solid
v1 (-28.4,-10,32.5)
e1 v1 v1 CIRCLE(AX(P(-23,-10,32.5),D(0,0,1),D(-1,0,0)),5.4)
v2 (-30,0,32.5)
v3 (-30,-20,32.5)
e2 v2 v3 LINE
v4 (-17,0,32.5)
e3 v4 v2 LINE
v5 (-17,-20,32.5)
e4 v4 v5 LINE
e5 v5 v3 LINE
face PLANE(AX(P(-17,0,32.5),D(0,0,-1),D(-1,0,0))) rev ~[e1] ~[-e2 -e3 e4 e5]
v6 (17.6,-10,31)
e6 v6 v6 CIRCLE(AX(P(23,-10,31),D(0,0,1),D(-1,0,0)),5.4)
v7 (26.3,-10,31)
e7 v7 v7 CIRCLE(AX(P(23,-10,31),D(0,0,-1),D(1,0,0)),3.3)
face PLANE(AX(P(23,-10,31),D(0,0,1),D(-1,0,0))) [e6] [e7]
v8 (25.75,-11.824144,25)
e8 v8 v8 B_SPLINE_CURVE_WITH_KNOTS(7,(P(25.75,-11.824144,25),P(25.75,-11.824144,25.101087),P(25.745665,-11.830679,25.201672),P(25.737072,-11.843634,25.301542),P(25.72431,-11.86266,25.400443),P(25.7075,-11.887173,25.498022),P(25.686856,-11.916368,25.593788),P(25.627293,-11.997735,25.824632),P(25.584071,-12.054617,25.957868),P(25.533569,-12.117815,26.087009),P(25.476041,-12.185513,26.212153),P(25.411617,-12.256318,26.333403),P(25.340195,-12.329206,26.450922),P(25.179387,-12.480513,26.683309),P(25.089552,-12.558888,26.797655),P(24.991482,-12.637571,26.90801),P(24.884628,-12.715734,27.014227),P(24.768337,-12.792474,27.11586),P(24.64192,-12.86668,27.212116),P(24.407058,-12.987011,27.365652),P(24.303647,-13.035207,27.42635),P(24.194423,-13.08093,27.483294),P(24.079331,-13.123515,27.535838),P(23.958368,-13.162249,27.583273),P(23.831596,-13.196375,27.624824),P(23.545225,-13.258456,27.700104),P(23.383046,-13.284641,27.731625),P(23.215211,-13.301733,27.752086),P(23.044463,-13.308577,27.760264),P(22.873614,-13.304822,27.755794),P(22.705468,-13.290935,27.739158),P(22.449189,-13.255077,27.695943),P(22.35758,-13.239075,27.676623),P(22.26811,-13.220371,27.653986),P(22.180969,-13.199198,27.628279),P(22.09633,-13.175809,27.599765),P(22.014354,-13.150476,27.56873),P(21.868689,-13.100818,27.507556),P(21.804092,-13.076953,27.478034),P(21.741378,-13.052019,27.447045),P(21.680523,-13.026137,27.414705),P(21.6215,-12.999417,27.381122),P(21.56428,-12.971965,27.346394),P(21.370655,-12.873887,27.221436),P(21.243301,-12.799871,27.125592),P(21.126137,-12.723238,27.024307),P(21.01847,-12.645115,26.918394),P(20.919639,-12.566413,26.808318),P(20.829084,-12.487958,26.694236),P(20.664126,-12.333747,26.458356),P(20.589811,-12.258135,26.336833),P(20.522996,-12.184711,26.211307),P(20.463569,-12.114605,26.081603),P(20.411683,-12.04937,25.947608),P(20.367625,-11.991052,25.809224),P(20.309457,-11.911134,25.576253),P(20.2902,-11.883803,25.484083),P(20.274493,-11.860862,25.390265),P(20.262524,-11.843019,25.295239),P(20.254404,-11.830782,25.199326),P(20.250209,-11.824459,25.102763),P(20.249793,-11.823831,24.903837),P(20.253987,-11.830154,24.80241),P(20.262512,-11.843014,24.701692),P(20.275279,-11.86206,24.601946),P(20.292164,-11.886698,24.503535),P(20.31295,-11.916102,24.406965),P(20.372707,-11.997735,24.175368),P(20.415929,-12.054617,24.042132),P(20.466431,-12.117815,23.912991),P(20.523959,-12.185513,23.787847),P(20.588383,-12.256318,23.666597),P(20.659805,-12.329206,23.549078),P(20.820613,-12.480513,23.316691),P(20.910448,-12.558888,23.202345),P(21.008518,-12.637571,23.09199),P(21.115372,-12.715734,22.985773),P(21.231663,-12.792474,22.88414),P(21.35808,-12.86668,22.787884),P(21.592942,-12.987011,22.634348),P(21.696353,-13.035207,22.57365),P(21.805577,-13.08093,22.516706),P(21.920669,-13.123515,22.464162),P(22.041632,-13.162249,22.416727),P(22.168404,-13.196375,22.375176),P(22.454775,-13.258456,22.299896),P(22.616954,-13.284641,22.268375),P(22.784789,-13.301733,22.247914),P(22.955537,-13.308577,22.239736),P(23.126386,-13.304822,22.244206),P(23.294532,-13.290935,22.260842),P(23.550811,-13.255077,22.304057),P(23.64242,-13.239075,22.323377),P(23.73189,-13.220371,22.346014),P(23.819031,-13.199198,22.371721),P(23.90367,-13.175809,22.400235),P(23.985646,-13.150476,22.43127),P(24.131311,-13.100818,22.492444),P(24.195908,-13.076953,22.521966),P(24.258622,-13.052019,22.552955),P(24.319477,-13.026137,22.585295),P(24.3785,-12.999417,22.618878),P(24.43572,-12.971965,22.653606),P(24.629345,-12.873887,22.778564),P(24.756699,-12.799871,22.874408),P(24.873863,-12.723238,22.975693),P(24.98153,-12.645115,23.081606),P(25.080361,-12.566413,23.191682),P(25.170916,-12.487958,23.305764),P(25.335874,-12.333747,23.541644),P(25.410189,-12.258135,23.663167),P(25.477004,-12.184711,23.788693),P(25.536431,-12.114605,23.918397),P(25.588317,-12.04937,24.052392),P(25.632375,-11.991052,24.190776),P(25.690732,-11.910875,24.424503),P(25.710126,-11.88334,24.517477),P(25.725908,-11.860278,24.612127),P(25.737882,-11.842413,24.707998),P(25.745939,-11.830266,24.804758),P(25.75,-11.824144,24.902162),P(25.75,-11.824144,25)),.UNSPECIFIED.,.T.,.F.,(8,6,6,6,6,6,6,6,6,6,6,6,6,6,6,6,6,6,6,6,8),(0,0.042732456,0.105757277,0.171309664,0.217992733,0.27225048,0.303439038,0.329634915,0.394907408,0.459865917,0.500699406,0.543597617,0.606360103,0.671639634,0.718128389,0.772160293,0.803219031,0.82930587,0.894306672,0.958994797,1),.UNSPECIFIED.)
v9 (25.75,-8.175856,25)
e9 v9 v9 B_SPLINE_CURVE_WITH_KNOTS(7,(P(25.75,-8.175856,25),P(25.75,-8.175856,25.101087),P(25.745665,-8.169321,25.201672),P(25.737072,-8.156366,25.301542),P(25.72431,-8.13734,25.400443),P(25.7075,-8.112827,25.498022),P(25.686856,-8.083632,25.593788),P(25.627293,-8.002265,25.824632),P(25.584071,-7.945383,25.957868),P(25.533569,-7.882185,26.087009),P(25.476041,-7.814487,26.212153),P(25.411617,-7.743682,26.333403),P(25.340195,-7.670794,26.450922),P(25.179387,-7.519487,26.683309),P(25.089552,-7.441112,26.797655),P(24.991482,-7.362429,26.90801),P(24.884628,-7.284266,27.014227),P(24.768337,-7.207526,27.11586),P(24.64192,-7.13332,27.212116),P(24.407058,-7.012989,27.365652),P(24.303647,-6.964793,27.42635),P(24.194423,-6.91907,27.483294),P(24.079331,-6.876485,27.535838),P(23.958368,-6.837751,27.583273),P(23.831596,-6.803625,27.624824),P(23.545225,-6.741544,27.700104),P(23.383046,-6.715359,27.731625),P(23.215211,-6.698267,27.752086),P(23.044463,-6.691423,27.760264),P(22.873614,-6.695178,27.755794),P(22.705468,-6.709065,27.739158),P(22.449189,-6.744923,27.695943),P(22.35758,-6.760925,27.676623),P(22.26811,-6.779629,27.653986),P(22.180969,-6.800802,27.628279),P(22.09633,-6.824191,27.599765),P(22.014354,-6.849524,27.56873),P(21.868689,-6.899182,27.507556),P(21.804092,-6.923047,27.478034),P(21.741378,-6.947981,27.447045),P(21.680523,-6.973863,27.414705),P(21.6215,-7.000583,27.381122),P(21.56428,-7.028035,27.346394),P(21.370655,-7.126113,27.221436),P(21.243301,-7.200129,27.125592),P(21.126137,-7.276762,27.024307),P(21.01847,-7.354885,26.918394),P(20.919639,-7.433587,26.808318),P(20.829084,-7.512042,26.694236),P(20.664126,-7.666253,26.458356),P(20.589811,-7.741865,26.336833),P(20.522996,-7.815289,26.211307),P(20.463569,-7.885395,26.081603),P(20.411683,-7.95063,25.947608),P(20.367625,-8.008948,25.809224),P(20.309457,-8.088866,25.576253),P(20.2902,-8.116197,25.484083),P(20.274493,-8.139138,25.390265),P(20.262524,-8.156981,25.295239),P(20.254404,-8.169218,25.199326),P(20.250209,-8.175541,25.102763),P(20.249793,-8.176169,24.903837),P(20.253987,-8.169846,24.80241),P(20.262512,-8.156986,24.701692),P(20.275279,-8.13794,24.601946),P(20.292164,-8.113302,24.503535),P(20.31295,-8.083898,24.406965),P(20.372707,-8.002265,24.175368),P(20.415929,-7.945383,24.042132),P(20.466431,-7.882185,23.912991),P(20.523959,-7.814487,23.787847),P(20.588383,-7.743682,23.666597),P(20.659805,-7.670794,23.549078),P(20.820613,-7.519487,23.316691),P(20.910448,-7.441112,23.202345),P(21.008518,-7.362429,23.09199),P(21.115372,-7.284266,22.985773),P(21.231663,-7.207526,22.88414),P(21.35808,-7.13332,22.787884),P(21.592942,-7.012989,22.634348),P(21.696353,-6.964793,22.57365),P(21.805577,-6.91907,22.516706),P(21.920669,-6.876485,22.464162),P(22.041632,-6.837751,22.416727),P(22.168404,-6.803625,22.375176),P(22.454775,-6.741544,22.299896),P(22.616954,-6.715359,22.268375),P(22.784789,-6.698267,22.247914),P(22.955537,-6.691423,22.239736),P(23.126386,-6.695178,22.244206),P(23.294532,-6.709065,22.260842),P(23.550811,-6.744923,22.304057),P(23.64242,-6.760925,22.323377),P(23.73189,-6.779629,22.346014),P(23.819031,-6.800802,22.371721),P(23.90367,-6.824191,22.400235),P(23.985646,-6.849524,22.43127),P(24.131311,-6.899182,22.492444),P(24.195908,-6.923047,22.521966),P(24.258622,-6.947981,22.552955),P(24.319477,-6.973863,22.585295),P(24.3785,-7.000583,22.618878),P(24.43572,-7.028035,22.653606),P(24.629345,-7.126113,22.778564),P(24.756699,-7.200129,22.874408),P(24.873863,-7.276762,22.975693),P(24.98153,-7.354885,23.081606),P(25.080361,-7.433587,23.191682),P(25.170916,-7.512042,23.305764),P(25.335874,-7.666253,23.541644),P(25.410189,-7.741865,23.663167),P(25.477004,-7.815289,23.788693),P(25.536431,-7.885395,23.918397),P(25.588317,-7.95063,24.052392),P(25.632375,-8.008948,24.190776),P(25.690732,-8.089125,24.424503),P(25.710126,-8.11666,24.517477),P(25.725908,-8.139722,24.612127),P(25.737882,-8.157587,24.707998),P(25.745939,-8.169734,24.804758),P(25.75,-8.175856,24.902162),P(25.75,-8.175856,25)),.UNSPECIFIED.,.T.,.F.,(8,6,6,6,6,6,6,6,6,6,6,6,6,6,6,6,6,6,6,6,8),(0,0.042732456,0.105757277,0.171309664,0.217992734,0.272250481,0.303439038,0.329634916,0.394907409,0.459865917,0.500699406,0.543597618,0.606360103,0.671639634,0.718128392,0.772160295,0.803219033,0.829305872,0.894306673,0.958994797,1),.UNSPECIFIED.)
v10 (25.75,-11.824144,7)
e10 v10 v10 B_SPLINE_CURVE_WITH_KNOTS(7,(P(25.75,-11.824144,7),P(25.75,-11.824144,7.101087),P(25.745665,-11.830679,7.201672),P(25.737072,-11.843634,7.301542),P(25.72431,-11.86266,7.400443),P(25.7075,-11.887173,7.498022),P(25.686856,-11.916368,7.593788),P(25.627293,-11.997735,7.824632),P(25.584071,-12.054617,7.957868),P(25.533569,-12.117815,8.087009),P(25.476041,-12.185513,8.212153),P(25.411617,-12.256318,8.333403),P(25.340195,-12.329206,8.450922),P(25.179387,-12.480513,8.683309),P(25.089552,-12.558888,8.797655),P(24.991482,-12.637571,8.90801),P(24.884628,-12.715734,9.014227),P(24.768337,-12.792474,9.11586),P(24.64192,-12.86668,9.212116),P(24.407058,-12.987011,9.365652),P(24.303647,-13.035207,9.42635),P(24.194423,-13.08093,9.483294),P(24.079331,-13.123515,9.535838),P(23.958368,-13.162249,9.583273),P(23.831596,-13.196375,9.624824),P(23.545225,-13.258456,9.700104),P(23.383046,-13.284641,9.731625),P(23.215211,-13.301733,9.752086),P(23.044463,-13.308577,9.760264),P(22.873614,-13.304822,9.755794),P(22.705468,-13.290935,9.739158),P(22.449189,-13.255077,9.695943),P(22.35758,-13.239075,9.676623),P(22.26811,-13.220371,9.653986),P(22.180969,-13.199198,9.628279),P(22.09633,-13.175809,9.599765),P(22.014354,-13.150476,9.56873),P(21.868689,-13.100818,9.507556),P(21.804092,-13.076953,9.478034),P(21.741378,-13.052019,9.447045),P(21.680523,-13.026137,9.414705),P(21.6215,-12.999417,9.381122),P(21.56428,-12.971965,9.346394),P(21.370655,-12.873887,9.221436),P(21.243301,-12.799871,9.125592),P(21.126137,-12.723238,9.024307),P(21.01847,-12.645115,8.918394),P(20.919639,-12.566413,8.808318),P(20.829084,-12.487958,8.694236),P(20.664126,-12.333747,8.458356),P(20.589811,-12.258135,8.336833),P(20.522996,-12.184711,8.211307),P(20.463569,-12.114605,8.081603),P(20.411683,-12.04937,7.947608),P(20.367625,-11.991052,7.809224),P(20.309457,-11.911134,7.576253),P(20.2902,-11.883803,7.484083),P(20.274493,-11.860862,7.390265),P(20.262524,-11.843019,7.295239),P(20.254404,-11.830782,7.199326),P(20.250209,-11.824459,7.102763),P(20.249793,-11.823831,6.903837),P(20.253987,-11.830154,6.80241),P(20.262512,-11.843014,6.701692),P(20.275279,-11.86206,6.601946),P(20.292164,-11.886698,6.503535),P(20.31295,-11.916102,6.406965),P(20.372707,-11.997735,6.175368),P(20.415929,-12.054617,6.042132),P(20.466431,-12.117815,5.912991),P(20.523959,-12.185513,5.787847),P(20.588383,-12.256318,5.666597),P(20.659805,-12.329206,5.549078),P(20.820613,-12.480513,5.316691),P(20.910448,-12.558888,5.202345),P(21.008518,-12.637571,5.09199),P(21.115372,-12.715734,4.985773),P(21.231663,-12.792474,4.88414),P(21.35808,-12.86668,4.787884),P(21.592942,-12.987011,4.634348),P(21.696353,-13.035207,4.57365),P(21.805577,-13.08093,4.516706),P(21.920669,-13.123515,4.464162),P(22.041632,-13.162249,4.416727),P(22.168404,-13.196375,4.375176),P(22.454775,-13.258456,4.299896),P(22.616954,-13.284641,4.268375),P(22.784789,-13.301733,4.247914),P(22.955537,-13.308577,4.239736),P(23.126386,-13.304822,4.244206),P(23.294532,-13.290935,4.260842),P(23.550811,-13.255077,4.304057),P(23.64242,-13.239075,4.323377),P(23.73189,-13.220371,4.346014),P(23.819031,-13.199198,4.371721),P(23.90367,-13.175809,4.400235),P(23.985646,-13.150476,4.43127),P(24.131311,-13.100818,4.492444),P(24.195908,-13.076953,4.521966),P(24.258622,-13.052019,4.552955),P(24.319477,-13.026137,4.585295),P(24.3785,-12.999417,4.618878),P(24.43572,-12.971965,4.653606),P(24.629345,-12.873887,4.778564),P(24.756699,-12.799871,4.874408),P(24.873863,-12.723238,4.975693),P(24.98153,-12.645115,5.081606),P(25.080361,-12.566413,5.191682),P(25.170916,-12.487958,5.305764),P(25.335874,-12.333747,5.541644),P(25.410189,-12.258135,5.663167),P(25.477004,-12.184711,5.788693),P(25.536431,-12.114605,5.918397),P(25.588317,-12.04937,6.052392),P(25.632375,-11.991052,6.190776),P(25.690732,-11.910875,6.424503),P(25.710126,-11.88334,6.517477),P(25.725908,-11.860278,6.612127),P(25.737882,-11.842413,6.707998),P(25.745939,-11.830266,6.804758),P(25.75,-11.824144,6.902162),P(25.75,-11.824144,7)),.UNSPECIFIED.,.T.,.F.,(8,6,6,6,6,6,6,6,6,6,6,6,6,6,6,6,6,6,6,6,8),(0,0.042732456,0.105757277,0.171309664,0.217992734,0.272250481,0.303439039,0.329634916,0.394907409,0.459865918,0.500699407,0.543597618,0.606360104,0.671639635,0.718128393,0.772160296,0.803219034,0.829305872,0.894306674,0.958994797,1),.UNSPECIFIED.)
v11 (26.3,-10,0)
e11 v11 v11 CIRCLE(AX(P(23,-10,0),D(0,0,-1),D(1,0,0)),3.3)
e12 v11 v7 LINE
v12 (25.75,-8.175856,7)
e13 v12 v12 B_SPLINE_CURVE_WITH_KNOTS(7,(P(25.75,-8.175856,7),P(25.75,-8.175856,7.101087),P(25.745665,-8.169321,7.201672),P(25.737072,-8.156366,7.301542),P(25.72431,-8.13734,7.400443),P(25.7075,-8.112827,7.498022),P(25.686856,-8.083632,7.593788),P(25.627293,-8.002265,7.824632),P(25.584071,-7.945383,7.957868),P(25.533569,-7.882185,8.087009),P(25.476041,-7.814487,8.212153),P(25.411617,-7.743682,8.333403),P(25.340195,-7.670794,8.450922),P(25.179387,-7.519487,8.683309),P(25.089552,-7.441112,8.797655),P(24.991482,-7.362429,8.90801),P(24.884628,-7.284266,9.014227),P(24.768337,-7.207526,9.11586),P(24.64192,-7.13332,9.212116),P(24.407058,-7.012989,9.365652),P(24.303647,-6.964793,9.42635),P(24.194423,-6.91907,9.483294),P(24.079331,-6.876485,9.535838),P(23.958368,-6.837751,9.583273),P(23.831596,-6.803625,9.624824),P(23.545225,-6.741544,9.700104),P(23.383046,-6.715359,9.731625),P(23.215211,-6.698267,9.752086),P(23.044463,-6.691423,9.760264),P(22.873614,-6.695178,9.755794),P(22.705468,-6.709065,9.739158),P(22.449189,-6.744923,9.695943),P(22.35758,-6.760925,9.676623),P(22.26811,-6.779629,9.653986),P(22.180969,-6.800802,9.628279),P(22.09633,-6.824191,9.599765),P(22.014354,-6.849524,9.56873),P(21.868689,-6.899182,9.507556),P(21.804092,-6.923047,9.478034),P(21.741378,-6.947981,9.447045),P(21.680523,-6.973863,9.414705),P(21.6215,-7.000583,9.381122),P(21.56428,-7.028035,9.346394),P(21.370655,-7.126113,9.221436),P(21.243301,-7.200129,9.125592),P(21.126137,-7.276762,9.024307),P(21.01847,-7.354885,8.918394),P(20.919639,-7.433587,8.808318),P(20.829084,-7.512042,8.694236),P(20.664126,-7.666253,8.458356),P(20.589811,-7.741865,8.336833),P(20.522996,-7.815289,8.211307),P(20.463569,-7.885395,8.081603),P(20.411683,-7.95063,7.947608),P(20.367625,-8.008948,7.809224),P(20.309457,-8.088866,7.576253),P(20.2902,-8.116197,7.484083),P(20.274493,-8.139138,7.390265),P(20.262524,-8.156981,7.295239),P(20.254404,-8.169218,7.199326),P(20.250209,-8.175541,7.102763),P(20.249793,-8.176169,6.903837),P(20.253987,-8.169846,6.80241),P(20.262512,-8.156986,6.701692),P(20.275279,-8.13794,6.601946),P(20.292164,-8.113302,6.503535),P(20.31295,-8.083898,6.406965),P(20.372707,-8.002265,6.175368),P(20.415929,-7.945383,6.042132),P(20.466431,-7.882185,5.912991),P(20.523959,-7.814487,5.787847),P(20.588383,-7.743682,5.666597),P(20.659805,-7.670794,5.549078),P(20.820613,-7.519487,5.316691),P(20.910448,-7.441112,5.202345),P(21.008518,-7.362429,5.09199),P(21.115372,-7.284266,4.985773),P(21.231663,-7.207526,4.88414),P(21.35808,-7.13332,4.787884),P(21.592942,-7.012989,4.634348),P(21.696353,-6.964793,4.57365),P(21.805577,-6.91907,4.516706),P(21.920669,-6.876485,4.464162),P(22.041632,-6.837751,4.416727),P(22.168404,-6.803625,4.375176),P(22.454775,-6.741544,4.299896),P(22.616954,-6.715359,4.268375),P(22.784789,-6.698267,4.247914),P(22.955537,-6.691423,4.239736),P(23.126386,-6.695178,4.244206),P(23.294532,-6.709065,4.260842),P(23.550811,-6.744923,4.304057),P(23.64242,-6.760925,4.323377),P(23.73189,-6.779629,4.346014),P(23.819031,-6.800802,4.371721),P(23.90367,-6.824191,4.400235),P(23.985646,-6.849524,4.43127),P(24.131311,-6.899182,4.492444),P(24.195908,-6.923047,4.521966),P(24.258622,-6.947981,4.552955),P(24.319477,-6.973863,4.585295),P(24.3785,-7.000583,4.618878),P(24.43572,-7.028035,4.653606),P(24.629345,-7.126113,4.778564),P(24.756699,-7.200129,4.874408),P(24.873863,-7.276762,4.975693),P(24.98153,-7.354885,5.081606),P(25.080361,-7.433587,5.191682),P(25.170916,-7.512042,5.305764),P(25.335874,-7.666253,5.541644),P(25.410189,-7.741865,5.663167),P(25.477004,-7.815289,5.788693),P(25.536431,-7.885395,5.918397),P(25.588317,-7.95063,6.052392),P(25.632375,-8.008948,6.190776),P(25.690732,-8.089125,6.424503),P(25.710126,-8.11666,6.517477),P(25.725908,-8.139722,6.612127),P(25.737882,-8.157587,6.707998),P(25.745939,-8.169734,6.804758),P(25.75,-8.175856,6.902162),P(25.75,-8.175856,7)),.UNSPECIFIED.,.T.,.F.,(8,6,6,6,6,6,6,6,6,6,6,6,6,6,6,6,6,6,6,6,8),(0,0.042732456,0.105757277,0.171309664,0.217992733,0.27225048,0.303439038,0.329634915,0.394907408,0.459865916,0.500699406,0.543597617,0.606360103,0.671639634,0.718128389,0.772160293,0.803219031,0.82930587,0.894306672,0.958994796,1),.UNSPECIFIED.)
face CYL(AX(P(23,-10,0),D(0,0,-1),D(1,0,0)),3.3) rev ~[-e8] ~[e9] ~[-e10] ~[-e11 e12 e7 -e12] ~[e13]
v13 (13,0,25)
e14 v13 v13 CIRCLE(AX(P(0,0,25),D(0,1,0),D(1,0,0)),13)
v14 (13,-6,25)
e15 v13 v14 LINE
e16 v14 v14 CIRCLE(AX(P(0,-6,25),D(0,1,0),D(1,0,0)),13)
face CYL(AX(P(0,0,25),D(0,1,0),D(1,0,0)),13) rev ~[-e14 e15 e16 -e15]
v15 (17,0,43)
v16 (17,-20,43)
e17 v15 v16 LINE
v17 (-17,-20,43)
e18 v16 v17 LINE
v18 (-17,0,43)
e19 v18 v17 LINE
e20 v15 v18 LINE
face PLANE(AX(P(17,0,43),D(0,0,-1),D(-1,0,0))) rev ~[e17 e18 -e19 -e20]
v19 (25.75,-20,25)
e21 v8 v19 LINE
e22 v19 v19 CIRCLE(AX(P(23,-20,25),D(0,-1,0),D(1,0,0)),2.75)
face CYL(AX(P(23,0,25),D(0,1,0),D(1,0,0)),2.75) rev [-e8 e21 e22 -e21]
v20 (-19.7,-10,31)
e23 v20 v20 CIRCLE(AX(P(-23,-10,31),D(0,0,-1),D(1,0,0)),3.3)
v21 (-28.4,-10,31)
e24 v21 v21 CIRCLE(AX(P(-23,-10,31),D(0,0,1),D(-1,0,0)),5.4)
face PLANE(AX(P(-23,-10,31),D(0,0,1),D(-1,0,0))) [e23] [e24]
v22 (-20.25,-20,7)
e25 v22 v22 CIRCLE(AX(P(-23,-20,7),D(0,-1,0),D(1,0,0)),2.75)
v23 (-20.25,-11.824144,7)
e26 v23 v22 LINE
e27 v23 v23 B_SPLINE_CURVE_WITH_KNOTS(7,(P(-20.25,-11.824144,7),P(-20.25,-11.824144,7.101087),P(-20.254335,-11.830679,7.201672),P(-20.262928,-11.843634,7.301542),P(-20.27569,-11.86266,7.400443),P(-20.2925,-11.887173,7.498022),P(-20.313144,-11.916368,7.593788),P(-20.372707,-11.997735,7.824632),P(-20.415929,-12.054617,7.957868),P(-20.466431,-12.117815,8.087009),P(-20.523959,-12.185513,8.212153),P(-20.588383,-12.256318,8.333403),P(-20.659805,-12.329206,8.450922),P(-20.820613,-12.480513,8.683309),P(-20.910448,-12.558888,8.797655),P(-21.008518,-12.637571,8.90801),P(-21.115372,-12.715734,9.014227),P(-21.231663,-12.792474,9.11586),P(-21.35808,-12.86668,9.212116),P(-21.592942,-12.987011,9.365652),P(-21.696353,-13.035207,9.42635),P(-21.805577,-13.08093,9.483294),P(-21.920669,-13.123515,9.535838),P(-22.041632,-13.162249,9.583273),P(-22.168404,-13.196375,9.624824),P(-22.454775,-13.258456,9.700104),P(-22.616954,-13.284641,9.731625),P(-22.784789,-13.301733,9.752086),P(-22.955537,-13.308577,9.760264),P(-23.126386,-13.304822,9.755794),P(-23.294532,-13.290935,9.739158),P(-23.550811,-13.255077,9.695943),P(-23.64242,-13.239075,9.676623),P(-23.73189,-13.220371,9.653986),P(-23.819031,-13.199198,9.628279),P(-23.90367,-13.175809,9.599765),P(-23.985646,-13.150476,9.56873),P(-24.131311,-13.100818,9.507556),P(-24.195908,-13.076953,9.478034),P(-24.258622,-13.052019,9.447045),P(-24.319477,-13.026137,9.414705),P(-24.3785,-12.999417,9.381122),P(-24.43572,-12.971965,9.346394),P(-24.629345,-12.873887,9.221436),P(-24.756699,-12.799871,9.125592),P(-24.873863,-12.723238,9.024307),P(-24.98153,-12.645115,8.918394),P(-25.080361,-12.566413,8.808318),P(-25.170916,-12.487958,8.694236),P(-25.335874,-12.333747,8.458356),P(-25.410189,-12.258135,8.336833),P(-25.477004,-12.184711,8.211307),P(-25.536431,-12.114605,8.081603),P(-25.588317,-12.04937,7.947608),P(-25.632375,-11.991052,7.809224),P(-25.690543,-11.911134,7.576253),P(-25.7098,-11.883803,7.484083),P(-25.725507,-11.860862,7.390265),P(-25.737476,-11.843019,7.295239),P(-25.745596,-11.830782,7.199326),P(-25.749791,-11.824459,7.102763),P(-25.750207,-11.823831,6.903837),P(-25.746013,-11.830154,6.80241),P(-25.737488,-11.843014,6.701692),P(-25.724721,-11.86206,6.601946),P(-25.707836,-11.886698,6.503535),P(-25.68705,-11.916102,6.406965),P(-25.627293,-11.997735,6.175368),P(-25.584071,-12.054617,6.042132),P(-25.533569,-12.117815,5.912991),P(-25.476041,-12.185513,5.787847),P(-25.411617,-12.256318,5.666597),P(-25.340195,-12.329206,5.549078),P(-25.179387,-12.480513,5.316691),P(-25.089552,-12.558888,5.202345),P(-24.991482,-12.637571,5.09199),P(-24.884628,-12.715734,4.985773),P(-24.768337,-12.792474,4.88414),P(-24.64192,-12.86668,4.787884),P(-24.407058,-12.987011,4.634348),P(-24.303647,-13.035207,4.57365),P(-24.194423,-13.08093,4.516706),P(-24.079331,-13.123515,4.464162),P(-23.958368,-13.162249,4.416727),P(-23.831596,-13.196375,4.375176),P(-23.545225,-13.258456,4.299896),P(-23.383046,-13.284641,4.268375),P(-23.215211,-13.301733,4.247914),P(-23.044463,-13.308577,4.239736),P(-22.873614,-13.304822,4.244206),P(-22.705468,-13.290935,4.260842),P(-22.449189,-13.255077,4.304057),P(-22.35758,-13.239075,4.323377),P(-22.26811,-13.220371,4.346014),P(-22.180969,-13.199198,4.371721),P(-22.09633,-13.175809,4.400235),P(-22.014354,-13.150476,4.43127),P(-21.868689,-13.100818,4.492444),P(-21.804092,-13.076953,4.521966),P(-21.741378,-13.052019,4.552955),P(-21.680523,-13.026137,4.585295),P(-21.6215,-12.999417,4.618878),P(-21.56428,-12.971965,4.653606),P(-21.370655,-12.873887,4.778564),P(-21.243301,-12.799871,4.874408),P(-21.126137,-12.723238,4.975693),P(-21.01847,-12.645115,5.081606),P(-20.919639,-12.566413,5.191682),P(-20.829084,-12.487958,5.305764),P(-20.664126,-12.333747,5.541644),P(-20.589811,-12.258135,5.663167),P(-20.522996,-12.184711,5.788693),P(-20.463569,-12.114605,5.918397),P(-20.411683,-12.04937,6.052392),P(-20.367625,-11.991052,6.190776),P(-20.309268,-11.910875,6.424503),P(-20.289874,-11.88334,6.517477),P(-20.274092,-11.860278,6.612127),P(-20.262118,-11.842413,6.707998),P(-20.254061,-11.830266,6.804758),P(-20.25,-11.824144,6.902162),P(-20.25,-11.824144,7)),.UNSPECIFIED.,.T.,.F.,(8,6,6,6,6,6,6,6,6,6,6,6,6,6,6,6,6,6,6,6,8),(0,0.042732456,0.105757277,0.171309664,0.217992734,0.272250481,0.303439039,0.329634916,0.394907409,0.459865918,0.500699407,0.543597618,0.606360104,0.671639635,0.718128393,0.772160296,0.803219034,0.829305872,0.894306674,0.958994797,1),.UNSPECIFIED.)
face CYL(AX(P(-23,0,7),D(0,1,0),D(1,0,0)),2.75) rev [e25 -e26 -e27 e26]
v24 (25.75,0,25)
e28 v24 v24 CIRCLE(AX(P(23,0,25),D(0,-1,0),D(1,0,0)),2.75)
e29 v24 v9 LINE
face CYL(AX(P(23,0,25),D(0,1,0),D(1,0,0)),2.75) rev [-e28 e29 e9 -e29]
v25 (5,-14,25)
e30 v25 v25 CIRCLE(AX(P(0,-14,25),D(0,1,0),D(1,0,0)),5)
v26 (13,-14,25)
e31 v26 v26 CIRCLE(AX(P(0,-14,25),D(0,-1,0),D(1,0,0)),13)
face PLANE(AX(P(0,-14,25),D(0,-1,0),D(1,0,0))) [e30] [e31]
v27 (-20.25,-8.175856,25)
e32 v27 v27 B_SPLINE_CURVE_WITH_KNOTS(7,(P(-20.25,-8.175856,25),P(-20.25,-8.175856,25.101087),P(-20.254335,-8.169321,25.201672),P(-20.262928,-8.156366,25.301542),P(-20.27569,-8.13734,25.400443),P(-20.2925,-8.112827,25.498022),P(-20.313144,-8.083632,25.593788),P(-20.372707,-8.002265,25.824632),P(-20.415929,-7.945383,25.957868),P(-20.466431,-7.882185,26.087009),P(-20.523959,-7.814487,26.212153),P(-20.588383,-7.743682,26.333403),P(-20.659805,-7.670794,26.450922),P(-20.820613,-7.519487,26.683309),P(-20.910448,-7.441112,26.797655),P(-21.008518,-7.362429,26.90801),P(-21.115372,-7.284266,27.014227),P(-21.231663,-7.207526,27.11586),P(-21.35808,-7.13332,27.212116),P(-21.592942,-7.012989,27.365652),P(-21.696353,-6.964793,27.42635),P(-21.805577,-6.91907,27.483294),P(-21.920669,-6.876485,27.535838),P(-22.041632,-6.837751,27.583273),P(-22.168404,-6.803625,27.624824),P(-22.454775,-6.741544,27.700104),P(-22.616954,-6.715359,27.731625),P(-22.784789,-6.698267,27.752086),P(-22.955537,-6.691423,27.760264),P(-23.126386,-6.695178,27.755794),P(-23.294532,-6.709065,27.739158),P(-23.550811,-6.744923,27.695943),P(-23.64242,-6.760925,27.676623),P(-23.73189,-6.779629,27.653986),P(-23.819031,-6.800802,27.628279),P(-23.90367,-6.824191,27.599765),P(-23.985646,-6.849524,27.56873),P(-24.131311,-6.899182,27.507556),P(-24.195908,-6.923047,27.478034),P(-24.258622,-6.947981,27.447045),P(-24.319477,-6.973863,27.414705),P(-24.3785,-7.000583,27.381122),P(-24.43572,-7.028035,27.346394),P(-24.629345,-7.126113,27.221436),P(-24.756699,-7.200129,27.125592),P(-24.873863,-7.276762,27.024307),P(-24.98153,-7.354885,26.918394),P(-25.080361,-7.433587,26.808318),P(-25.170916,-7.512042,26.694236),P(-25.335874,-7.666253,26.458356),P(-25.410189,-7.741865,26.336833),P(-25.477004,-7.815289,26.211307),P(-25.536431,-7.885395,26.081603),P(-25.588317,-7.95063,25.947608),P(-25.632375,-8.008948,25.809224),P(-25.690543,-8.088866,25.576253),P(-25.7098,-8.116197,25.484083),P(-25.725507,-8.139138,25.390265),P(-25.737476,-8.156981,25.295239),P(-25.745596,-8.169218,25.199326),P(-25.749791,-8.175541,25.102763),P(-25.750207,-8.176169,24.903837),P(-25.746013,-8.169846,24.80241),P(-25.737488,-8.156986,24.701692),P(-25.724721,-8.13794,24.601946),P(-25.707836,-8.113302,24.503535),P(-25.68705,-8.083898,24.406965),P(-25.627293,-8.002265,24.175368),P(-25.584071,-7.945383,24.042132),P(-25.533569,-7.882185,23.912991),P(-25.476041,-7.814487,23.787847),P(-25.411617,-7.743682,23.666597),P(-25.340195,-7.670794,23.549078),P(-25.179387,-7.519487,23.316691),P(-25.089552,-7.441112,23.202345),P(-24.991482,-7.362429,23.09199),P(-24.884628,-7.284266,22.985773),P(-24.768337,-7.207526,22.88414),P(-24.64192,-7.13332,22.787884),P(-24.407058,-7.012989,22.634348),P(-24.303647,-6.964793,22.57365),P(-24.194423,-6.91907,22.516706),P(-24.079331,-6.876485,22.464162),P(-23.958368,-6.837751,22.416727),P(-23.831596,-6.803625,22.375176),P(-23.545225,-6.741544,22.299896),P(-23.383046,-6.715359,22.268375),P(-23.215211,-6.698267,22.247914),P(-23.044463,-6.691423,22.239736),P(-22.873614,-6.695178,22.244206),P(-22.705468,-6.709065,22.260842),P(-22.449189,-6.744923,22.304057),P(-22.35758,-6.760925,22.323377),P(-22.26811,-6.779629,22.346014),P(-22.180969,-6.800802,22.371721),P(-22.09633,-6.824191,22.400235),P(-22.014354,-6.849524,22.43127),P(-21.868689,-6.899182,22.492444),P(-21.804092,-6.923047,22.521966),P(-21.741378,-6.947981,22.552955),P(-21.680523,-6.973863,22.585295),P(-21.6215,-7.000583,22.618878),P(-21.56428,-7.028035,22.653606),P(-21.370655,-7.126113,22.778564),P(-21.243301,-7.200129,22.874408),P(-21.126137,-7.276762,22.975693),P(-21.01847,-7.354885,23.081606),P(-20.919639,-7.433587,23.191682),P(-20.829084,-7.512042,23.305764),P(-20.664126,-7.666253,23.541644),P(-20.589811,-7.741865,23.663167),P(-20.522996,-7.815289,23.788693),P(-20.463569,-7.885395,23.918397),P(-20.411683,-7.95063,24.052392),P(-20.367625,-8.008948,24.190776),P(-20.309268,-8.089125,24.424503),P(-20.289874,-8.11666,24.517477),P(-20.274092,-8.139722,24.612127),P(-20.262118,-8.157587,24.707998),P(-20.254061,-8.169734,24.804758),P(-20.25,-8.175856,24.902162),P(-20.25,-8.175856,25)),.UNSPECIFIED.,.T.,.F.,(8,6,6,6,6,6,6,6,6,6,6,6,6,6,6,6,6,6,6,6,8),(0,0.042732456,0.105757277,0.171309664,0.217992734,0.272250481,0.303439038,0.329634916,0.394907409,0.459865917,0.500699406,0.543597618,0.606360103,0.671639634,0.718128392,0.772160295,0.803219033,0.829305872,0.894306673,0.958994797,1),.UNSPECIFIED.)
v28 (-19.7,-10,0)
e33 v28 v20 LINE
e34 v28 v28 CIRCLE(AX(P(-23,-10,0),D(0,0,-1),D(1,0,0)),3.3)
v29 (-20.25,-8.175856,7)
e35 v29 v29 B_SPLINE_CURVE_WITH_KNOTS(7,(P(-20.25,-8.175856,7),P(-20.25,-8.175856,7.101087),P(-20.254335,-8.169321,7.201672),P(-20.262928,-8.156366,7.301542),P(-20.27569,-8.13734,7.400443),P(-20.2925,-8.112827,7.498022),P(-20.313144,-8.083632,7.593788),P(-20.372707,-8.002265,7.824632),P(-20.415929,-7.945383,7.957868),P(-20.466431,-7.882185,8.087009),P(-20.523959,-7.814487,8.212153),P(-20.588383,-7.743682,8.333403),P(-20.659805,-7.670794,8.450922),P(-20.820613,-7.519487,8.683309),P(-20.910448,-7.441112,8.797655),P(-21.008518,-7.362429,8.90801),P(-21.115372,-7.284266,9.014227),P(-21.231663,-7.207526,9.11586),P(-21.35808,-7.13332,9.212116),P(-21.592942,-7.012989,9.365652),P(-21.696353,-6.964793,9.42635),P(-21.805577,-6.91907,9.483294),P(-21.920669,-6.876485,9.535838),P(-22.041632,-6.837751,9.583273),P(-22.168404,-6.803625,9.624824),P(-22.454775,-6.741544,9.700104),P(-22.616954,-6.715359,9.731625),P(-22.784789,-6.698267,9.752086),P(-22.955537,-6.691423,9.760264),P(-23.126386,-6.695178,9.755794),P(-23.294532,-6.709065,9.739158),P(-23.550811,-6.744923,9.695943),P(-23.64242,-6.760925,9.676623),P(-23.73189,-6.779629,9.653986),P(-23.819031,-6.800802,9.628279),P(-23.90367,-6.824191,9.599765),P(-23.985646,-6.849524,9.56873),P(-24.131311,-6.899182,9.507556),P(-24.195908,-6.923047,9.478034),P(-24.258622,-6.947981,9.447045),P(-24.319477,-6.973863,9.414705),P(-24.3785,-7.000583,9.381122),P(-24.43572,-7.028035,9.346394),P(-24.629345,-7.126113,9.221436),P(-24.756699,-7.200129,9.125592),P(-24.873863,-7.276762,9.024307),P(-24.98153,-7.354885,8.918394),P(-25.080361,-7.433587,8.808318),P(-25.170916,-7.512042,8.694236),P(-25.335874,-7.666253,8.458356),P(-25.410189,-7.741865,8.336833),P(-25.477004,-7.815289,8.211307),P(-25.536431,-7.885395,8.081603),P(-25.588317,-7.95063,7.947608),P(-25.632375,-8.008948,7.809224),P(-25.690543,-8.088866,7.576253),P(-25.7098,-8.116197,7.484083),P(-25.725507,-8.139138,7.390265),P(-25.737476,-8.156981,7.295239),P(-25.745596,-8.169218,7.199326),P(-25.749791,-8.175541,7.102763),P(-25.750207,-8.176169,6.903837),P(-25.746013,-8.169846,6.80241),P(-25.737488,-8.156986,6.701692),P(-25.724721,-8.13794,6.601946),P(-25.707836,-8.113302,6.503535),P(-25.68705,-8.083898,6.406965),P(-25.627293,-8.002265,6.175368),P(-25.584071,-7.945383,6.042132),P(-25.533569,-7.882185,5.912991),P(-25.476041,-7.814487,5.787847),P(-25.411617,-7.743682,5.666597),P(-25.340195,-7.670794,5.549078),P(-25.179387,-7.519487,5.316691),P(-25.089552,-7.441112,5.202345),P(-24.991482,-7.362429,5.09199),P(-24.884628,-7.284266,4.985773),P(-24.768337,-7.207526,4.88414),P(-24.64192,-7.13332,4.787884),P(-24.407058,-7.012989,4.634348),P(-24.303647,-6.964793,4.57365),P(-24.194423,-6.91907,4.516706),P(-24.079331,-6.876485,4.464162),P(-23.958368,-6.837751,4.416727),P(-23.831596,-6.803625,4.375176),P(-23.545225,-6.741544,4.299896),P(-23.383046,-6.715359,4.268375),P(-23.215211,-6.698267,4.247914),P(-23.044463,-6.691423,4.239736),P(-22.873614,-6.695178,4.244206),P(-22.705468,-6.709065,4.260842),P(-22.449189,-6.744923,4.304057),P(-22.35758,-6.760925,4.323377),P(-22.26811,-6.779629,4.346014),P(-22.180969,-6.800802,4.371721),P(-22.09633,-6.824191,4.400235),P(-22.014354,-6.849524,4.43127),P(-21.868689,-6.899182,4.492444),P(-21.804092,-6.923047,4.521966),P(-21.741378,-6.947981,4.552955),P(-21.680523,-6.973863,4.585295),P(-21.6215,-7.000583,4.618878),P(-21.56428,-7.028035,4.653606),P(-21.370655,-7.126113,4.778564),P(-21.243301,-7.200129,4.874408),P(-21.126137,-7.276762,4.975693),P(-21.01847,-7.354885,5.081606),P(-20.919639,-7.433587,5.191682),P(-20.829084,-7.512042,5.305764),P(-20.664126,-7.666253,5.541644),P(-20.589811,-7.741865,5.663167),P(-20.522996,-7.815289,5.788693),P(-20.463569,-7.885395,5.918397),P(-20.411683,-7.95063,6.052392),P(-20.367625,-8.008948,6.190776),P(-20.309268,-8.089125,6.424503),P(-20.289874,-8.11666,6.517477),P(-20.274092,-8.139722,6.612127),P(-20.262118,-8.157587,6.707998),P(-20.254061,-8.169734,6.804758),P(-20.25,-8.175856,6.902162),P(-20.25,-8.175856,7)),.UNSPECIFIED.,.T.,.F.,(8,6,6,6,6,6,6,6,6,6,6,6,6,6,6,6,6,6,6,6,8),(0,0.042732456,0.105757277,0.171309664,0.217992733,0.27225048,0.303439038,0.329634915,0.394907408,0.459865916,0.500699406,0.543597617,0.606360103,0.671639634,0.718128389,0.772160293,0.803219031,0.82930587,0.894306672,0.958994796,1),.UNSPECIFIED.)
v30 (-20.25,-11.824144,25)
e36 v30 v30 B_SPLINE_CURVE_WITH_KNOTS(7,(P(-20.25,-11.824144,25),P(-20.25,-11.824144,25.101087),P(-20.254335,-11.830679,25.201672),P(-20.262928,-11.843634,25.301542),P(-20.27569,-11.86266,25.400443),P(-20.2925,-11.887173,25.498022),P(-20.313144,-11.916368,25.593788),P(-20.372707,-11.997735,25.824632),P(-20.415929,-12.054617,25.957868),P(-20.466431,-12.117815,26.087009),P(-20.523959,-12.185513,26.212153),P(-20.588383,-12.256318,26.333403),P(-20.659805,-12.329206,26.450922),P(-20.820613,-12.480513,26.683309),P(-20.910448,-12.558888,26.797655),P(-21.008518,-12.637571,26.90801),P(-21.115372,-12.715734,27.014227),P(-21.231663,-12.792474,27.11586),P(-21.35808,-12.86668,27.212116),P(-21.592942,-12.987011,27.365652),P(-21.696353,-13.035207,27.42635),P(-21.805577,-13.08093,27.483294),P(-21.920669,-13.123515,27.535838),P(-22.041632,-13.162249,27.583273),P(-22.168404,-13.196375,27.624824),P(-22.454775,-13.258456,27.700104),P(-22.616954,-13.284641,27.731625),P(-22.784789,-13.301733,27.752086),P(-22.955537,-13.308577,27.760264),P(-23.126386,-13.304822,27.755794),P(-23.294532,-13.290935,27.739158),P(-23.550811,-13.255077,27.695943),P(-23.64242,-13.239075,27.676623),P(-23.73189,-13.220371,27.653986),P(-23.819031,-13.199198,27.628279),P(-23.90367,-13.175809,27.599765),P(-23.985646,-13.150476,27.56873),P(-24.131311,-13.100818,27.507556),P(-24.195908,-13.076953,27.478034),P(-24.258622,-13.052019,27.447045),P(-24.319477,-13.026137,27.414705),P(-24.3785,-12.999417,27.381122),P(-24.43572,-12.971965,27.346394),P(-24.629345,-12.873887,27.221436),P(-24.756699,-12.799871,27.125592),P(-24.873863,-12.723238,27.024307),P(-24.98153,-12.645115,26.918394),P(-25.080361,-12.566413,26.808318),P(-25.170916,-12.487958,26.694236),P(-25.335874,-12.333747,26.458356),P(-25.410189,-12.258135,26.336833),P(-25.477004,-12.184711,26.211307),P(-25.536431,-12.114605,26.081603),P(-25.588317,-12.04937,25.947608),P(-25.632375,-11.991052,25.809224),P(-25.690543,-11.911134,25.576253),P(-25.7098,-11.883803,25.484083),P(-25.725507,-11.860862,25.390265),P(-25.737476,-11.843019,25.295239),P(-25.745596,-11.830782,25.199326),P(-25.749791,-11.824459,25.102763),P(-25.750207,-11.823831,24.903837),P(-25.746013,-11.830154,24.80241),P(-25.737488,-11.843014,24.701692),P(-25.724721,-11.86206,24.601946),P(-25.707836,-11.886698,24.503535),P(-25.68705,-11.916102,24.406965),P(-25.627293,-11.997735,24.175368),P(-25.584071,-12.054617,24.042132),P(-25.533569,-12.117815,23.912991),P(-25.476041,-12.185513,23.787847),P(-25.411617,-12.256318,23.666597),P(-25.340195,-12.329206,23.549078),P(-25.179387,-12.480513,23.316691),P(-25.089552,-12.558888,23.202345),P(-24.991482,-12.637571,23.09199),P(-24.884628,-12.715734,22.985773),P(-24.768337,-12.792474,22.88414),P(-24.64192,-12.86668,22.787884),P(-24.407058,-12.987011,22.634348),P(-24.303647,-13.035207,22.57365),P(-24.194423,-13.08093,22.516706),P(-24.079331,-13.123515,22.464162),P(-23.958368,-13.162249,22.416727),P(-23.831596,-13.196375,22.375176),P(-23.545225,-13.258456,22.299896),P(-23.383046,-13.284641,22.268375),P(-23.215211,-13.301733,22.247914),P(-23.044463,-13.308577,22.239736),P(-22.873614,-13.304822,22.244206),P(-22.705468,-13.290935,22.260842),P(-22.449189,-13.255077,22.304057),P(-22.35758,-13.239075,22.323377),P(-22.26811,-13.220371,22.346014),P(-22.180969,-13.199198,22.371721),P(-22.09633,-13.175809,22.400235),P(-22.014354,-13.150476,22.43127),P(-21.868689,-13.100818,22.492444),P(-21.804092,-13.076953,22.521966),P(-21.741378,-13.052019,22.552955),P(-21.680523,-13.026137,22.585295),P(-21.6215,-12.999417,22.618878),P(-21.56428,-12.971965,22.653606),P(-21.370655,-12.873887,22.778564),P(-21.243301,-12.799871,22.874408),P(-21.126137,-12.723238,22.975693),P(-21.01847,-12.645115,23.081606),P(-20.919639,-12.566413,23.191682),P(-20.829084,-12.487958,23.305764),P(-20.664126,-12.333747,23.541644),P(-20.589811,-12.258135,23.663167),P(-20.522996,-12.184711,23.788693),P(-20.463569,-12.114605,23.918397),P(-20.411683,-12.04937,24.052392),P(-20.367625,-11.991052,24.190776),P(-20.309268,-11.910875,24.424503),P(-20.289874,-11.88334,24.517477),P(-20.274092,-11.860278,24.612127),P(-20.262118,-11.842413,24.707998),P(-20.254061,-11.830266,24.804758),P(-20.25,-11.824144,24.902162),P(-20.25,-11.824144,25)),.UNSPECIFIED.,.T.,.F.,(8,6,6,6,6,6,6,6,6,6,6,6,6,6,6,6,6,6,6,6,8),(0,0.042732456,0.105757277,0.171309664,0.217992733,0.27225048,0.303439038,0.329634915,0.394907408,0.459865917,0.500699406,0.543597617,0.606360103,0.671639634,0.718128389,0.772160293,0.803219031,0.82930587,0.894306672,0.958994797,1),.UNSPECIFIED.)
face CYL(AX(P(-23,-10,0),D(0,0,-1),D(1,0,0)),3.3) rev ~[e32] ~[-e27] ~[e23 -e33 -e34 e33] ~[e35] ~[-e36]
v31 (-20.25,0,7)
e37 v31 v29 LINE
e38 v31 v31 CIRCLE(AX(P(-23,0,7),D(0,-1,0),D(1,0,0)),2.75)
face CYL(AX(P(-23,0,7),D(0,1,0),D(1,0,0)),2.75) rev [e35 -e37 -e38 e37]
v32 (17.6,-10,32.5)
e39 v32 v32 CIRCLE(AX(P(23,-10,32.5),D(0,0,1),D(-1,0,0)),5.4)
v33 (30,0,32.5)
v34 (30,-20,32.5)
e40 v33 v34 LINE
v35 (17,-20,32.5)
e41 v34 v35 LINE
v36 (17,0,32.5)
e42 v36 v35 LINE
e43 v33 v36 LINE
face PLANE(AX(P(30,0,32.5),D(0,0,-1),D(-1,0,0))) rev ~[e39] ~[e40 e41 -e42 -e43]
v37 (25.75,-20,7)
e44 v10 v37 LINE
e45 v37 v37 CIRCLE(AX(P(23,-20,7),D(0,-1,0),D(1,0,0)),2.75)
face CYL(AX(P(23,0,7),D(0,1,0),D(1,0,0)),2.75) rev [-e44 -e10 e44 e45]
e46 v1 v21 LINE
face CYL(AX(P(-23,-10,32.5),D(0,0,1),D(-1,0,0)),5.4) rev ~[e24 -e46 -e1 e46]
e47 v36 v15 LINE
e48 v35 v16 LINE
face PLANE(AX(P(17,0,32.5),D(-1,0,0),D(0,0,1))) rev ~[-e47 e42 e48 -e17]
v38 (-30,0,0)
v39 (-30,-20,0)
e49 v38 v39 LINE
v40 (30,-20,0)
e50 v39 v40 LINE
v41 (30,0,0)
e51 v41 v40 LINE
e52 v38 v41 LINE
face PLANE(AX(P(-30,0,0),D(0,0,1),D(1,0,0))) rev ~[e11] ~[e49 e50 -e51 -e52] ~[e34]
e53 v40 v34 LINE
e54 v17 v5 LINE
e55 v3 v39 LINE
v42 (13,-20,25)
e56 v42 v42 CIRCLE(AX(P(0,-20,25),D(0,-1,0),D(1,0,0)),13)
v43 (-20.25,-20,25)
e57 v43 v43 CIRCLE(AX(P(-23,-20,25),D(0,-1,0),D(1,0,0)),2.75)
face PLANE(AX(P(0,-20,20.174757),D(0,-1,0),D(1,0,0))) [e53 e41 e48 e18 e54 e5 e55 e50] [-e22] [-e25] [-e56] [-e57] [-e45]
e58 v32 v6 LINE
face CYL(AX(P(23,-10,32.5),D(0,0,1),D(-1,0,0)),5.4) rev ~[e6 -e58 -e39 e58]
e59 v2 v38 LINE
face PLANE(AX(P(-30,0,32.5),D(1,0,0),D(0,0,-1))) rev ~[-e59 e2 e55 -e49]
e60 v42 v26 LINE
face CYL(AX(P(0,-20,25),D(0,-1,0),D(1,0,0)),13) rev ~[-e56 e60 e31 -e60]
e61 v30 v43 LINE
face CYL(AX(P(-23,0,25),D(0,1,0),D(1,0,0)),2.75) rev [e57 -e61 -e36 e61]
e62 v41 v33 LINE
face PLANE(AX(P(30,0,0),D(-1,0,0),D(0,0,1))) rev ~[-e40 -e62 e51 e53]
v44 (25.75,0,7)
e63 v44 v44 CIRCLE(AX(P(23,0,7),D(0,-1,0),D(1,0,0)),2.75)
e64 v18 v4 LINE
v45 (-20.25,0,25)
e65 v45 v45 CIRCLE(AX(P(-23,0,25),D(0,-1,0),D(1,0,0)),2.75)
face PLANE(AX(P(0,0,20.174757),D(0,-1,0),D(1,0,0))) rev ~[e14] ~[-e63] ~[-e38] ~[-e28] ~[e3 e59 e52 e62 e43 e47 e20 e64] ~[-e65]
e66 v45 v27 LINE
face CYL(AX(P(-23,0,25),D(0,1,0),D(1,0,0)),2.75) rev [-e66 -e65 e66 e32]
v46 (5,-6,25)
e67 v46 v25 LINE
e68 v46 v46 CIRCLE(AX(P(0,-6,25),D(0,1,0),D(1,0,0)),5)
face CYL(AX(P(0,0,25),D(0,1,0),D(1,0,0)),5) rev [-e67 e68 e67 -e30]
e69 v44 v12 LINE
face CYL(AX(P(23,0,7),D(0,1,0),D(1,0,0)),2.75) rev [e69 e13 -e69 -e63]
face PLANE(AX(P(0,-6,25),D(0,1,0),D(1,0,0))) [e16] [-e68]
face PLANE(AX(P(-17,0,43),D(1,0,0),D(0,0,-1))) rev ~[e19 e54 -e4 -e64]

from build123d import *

# Parameters (mm, degrees)
SKETCH_R        = 5
SKETCH_R_2      = 2.75
PAD_DEPTH       = 20
SKETCH001_R     = 3.3
POCKET_DEPTH    = 43.001
SKETCH002_R     = 5.4
POCKET001_DEPTH = 1.5
SKETCH003_R     = 13
POCKET002_DEPTH = 6
SKETCH004_R     = 13
POCKET003_DEPTH = 6


with BuildPart() as part:
    # Sketch → Pad (new body)
    with BuildSketch(Plane.XZ):
        Polygon((-30, 0), (30, 0), (30, 32.5), (17, 32.5), (17, 43), (-17, 43), (-17, 32.5), (-30, 32.5), align=None)
        with Locations((0, 25)):
            Circle(SKETCH_R, mode=Mode.SUBTRACT)
        with Locations((-23, 25)):
            Circle(SKETCH_R_2, mode=Mode.SUBTRACT)
        with Locations((-23, 7)):
            Circle(SKETCH_R_2, mode=Mode.SUBTRACT)
        with Locations((23, 7)):
            Circle(SKETCH_R_2, mode=Mode.SUBTRACT)
        with Locations((23, 25)):
            Circle(SKETCH_R_2, mode=Mode.SUBTRACT)
    extrude(amount=PAD_DEPTH)

    # Sketch001 (on Face1 of Pad) → Pocket (cut, through all)
    with BuildSketch(Plane(origin=(0, 0, 0), x_dir=(1, 0, 0), z_dir=(0, 0, -1))):
        with Locations((-23, 10)):
            Circle(SKETCH001_R)
        with Locations((23, 10)):
            Circle(SKETCH001_R)
    extrude(amount=-POCKET_DEPTH, mode=Mode.SUBTRACT)

    # Sketch002 (on Face9 of Pocket) → Pocket001 (cut)
    with BuildSketch(Plane(origin=(0, 0, 32.5), x_dir=(-1, 0, 0), z_dir=(0, 0, 1))):
        with Locations((-23, 10)):
            Circle(SKETCH002_R)
        with Locations((23, 10)):
            Circle(SKETCH002_R)
    extrude(amount=-POCKET001_DEPTH, mode=Mode.SUBTRACT)

    # Sketch003 (on Face4 of Pocket001) → Pocket002 (cut)
    with BuildSketch(Plane.XZ.offset(20)):
        with Locations((0, 25)):
            Circle(SKETCH003_R)
    extrude(amount=-POCKET002_DEPTH, mode=Mode.SUBTRACT)

    # Sketch004 (on Face3 of Pocket002) → Pocket003 (cut)
    with BuildSketch(Plane(origin=(0, 0, 0), x_dir=(1, 0, 0), z_dir=(0, 1, 0))):
        with Locations((0, -25)):
            Circle(SKETCH004_R)
    extrude(amount=-POCKET003_DEPTH, mode=Mode.SUBTRACT)


solid = part.part
